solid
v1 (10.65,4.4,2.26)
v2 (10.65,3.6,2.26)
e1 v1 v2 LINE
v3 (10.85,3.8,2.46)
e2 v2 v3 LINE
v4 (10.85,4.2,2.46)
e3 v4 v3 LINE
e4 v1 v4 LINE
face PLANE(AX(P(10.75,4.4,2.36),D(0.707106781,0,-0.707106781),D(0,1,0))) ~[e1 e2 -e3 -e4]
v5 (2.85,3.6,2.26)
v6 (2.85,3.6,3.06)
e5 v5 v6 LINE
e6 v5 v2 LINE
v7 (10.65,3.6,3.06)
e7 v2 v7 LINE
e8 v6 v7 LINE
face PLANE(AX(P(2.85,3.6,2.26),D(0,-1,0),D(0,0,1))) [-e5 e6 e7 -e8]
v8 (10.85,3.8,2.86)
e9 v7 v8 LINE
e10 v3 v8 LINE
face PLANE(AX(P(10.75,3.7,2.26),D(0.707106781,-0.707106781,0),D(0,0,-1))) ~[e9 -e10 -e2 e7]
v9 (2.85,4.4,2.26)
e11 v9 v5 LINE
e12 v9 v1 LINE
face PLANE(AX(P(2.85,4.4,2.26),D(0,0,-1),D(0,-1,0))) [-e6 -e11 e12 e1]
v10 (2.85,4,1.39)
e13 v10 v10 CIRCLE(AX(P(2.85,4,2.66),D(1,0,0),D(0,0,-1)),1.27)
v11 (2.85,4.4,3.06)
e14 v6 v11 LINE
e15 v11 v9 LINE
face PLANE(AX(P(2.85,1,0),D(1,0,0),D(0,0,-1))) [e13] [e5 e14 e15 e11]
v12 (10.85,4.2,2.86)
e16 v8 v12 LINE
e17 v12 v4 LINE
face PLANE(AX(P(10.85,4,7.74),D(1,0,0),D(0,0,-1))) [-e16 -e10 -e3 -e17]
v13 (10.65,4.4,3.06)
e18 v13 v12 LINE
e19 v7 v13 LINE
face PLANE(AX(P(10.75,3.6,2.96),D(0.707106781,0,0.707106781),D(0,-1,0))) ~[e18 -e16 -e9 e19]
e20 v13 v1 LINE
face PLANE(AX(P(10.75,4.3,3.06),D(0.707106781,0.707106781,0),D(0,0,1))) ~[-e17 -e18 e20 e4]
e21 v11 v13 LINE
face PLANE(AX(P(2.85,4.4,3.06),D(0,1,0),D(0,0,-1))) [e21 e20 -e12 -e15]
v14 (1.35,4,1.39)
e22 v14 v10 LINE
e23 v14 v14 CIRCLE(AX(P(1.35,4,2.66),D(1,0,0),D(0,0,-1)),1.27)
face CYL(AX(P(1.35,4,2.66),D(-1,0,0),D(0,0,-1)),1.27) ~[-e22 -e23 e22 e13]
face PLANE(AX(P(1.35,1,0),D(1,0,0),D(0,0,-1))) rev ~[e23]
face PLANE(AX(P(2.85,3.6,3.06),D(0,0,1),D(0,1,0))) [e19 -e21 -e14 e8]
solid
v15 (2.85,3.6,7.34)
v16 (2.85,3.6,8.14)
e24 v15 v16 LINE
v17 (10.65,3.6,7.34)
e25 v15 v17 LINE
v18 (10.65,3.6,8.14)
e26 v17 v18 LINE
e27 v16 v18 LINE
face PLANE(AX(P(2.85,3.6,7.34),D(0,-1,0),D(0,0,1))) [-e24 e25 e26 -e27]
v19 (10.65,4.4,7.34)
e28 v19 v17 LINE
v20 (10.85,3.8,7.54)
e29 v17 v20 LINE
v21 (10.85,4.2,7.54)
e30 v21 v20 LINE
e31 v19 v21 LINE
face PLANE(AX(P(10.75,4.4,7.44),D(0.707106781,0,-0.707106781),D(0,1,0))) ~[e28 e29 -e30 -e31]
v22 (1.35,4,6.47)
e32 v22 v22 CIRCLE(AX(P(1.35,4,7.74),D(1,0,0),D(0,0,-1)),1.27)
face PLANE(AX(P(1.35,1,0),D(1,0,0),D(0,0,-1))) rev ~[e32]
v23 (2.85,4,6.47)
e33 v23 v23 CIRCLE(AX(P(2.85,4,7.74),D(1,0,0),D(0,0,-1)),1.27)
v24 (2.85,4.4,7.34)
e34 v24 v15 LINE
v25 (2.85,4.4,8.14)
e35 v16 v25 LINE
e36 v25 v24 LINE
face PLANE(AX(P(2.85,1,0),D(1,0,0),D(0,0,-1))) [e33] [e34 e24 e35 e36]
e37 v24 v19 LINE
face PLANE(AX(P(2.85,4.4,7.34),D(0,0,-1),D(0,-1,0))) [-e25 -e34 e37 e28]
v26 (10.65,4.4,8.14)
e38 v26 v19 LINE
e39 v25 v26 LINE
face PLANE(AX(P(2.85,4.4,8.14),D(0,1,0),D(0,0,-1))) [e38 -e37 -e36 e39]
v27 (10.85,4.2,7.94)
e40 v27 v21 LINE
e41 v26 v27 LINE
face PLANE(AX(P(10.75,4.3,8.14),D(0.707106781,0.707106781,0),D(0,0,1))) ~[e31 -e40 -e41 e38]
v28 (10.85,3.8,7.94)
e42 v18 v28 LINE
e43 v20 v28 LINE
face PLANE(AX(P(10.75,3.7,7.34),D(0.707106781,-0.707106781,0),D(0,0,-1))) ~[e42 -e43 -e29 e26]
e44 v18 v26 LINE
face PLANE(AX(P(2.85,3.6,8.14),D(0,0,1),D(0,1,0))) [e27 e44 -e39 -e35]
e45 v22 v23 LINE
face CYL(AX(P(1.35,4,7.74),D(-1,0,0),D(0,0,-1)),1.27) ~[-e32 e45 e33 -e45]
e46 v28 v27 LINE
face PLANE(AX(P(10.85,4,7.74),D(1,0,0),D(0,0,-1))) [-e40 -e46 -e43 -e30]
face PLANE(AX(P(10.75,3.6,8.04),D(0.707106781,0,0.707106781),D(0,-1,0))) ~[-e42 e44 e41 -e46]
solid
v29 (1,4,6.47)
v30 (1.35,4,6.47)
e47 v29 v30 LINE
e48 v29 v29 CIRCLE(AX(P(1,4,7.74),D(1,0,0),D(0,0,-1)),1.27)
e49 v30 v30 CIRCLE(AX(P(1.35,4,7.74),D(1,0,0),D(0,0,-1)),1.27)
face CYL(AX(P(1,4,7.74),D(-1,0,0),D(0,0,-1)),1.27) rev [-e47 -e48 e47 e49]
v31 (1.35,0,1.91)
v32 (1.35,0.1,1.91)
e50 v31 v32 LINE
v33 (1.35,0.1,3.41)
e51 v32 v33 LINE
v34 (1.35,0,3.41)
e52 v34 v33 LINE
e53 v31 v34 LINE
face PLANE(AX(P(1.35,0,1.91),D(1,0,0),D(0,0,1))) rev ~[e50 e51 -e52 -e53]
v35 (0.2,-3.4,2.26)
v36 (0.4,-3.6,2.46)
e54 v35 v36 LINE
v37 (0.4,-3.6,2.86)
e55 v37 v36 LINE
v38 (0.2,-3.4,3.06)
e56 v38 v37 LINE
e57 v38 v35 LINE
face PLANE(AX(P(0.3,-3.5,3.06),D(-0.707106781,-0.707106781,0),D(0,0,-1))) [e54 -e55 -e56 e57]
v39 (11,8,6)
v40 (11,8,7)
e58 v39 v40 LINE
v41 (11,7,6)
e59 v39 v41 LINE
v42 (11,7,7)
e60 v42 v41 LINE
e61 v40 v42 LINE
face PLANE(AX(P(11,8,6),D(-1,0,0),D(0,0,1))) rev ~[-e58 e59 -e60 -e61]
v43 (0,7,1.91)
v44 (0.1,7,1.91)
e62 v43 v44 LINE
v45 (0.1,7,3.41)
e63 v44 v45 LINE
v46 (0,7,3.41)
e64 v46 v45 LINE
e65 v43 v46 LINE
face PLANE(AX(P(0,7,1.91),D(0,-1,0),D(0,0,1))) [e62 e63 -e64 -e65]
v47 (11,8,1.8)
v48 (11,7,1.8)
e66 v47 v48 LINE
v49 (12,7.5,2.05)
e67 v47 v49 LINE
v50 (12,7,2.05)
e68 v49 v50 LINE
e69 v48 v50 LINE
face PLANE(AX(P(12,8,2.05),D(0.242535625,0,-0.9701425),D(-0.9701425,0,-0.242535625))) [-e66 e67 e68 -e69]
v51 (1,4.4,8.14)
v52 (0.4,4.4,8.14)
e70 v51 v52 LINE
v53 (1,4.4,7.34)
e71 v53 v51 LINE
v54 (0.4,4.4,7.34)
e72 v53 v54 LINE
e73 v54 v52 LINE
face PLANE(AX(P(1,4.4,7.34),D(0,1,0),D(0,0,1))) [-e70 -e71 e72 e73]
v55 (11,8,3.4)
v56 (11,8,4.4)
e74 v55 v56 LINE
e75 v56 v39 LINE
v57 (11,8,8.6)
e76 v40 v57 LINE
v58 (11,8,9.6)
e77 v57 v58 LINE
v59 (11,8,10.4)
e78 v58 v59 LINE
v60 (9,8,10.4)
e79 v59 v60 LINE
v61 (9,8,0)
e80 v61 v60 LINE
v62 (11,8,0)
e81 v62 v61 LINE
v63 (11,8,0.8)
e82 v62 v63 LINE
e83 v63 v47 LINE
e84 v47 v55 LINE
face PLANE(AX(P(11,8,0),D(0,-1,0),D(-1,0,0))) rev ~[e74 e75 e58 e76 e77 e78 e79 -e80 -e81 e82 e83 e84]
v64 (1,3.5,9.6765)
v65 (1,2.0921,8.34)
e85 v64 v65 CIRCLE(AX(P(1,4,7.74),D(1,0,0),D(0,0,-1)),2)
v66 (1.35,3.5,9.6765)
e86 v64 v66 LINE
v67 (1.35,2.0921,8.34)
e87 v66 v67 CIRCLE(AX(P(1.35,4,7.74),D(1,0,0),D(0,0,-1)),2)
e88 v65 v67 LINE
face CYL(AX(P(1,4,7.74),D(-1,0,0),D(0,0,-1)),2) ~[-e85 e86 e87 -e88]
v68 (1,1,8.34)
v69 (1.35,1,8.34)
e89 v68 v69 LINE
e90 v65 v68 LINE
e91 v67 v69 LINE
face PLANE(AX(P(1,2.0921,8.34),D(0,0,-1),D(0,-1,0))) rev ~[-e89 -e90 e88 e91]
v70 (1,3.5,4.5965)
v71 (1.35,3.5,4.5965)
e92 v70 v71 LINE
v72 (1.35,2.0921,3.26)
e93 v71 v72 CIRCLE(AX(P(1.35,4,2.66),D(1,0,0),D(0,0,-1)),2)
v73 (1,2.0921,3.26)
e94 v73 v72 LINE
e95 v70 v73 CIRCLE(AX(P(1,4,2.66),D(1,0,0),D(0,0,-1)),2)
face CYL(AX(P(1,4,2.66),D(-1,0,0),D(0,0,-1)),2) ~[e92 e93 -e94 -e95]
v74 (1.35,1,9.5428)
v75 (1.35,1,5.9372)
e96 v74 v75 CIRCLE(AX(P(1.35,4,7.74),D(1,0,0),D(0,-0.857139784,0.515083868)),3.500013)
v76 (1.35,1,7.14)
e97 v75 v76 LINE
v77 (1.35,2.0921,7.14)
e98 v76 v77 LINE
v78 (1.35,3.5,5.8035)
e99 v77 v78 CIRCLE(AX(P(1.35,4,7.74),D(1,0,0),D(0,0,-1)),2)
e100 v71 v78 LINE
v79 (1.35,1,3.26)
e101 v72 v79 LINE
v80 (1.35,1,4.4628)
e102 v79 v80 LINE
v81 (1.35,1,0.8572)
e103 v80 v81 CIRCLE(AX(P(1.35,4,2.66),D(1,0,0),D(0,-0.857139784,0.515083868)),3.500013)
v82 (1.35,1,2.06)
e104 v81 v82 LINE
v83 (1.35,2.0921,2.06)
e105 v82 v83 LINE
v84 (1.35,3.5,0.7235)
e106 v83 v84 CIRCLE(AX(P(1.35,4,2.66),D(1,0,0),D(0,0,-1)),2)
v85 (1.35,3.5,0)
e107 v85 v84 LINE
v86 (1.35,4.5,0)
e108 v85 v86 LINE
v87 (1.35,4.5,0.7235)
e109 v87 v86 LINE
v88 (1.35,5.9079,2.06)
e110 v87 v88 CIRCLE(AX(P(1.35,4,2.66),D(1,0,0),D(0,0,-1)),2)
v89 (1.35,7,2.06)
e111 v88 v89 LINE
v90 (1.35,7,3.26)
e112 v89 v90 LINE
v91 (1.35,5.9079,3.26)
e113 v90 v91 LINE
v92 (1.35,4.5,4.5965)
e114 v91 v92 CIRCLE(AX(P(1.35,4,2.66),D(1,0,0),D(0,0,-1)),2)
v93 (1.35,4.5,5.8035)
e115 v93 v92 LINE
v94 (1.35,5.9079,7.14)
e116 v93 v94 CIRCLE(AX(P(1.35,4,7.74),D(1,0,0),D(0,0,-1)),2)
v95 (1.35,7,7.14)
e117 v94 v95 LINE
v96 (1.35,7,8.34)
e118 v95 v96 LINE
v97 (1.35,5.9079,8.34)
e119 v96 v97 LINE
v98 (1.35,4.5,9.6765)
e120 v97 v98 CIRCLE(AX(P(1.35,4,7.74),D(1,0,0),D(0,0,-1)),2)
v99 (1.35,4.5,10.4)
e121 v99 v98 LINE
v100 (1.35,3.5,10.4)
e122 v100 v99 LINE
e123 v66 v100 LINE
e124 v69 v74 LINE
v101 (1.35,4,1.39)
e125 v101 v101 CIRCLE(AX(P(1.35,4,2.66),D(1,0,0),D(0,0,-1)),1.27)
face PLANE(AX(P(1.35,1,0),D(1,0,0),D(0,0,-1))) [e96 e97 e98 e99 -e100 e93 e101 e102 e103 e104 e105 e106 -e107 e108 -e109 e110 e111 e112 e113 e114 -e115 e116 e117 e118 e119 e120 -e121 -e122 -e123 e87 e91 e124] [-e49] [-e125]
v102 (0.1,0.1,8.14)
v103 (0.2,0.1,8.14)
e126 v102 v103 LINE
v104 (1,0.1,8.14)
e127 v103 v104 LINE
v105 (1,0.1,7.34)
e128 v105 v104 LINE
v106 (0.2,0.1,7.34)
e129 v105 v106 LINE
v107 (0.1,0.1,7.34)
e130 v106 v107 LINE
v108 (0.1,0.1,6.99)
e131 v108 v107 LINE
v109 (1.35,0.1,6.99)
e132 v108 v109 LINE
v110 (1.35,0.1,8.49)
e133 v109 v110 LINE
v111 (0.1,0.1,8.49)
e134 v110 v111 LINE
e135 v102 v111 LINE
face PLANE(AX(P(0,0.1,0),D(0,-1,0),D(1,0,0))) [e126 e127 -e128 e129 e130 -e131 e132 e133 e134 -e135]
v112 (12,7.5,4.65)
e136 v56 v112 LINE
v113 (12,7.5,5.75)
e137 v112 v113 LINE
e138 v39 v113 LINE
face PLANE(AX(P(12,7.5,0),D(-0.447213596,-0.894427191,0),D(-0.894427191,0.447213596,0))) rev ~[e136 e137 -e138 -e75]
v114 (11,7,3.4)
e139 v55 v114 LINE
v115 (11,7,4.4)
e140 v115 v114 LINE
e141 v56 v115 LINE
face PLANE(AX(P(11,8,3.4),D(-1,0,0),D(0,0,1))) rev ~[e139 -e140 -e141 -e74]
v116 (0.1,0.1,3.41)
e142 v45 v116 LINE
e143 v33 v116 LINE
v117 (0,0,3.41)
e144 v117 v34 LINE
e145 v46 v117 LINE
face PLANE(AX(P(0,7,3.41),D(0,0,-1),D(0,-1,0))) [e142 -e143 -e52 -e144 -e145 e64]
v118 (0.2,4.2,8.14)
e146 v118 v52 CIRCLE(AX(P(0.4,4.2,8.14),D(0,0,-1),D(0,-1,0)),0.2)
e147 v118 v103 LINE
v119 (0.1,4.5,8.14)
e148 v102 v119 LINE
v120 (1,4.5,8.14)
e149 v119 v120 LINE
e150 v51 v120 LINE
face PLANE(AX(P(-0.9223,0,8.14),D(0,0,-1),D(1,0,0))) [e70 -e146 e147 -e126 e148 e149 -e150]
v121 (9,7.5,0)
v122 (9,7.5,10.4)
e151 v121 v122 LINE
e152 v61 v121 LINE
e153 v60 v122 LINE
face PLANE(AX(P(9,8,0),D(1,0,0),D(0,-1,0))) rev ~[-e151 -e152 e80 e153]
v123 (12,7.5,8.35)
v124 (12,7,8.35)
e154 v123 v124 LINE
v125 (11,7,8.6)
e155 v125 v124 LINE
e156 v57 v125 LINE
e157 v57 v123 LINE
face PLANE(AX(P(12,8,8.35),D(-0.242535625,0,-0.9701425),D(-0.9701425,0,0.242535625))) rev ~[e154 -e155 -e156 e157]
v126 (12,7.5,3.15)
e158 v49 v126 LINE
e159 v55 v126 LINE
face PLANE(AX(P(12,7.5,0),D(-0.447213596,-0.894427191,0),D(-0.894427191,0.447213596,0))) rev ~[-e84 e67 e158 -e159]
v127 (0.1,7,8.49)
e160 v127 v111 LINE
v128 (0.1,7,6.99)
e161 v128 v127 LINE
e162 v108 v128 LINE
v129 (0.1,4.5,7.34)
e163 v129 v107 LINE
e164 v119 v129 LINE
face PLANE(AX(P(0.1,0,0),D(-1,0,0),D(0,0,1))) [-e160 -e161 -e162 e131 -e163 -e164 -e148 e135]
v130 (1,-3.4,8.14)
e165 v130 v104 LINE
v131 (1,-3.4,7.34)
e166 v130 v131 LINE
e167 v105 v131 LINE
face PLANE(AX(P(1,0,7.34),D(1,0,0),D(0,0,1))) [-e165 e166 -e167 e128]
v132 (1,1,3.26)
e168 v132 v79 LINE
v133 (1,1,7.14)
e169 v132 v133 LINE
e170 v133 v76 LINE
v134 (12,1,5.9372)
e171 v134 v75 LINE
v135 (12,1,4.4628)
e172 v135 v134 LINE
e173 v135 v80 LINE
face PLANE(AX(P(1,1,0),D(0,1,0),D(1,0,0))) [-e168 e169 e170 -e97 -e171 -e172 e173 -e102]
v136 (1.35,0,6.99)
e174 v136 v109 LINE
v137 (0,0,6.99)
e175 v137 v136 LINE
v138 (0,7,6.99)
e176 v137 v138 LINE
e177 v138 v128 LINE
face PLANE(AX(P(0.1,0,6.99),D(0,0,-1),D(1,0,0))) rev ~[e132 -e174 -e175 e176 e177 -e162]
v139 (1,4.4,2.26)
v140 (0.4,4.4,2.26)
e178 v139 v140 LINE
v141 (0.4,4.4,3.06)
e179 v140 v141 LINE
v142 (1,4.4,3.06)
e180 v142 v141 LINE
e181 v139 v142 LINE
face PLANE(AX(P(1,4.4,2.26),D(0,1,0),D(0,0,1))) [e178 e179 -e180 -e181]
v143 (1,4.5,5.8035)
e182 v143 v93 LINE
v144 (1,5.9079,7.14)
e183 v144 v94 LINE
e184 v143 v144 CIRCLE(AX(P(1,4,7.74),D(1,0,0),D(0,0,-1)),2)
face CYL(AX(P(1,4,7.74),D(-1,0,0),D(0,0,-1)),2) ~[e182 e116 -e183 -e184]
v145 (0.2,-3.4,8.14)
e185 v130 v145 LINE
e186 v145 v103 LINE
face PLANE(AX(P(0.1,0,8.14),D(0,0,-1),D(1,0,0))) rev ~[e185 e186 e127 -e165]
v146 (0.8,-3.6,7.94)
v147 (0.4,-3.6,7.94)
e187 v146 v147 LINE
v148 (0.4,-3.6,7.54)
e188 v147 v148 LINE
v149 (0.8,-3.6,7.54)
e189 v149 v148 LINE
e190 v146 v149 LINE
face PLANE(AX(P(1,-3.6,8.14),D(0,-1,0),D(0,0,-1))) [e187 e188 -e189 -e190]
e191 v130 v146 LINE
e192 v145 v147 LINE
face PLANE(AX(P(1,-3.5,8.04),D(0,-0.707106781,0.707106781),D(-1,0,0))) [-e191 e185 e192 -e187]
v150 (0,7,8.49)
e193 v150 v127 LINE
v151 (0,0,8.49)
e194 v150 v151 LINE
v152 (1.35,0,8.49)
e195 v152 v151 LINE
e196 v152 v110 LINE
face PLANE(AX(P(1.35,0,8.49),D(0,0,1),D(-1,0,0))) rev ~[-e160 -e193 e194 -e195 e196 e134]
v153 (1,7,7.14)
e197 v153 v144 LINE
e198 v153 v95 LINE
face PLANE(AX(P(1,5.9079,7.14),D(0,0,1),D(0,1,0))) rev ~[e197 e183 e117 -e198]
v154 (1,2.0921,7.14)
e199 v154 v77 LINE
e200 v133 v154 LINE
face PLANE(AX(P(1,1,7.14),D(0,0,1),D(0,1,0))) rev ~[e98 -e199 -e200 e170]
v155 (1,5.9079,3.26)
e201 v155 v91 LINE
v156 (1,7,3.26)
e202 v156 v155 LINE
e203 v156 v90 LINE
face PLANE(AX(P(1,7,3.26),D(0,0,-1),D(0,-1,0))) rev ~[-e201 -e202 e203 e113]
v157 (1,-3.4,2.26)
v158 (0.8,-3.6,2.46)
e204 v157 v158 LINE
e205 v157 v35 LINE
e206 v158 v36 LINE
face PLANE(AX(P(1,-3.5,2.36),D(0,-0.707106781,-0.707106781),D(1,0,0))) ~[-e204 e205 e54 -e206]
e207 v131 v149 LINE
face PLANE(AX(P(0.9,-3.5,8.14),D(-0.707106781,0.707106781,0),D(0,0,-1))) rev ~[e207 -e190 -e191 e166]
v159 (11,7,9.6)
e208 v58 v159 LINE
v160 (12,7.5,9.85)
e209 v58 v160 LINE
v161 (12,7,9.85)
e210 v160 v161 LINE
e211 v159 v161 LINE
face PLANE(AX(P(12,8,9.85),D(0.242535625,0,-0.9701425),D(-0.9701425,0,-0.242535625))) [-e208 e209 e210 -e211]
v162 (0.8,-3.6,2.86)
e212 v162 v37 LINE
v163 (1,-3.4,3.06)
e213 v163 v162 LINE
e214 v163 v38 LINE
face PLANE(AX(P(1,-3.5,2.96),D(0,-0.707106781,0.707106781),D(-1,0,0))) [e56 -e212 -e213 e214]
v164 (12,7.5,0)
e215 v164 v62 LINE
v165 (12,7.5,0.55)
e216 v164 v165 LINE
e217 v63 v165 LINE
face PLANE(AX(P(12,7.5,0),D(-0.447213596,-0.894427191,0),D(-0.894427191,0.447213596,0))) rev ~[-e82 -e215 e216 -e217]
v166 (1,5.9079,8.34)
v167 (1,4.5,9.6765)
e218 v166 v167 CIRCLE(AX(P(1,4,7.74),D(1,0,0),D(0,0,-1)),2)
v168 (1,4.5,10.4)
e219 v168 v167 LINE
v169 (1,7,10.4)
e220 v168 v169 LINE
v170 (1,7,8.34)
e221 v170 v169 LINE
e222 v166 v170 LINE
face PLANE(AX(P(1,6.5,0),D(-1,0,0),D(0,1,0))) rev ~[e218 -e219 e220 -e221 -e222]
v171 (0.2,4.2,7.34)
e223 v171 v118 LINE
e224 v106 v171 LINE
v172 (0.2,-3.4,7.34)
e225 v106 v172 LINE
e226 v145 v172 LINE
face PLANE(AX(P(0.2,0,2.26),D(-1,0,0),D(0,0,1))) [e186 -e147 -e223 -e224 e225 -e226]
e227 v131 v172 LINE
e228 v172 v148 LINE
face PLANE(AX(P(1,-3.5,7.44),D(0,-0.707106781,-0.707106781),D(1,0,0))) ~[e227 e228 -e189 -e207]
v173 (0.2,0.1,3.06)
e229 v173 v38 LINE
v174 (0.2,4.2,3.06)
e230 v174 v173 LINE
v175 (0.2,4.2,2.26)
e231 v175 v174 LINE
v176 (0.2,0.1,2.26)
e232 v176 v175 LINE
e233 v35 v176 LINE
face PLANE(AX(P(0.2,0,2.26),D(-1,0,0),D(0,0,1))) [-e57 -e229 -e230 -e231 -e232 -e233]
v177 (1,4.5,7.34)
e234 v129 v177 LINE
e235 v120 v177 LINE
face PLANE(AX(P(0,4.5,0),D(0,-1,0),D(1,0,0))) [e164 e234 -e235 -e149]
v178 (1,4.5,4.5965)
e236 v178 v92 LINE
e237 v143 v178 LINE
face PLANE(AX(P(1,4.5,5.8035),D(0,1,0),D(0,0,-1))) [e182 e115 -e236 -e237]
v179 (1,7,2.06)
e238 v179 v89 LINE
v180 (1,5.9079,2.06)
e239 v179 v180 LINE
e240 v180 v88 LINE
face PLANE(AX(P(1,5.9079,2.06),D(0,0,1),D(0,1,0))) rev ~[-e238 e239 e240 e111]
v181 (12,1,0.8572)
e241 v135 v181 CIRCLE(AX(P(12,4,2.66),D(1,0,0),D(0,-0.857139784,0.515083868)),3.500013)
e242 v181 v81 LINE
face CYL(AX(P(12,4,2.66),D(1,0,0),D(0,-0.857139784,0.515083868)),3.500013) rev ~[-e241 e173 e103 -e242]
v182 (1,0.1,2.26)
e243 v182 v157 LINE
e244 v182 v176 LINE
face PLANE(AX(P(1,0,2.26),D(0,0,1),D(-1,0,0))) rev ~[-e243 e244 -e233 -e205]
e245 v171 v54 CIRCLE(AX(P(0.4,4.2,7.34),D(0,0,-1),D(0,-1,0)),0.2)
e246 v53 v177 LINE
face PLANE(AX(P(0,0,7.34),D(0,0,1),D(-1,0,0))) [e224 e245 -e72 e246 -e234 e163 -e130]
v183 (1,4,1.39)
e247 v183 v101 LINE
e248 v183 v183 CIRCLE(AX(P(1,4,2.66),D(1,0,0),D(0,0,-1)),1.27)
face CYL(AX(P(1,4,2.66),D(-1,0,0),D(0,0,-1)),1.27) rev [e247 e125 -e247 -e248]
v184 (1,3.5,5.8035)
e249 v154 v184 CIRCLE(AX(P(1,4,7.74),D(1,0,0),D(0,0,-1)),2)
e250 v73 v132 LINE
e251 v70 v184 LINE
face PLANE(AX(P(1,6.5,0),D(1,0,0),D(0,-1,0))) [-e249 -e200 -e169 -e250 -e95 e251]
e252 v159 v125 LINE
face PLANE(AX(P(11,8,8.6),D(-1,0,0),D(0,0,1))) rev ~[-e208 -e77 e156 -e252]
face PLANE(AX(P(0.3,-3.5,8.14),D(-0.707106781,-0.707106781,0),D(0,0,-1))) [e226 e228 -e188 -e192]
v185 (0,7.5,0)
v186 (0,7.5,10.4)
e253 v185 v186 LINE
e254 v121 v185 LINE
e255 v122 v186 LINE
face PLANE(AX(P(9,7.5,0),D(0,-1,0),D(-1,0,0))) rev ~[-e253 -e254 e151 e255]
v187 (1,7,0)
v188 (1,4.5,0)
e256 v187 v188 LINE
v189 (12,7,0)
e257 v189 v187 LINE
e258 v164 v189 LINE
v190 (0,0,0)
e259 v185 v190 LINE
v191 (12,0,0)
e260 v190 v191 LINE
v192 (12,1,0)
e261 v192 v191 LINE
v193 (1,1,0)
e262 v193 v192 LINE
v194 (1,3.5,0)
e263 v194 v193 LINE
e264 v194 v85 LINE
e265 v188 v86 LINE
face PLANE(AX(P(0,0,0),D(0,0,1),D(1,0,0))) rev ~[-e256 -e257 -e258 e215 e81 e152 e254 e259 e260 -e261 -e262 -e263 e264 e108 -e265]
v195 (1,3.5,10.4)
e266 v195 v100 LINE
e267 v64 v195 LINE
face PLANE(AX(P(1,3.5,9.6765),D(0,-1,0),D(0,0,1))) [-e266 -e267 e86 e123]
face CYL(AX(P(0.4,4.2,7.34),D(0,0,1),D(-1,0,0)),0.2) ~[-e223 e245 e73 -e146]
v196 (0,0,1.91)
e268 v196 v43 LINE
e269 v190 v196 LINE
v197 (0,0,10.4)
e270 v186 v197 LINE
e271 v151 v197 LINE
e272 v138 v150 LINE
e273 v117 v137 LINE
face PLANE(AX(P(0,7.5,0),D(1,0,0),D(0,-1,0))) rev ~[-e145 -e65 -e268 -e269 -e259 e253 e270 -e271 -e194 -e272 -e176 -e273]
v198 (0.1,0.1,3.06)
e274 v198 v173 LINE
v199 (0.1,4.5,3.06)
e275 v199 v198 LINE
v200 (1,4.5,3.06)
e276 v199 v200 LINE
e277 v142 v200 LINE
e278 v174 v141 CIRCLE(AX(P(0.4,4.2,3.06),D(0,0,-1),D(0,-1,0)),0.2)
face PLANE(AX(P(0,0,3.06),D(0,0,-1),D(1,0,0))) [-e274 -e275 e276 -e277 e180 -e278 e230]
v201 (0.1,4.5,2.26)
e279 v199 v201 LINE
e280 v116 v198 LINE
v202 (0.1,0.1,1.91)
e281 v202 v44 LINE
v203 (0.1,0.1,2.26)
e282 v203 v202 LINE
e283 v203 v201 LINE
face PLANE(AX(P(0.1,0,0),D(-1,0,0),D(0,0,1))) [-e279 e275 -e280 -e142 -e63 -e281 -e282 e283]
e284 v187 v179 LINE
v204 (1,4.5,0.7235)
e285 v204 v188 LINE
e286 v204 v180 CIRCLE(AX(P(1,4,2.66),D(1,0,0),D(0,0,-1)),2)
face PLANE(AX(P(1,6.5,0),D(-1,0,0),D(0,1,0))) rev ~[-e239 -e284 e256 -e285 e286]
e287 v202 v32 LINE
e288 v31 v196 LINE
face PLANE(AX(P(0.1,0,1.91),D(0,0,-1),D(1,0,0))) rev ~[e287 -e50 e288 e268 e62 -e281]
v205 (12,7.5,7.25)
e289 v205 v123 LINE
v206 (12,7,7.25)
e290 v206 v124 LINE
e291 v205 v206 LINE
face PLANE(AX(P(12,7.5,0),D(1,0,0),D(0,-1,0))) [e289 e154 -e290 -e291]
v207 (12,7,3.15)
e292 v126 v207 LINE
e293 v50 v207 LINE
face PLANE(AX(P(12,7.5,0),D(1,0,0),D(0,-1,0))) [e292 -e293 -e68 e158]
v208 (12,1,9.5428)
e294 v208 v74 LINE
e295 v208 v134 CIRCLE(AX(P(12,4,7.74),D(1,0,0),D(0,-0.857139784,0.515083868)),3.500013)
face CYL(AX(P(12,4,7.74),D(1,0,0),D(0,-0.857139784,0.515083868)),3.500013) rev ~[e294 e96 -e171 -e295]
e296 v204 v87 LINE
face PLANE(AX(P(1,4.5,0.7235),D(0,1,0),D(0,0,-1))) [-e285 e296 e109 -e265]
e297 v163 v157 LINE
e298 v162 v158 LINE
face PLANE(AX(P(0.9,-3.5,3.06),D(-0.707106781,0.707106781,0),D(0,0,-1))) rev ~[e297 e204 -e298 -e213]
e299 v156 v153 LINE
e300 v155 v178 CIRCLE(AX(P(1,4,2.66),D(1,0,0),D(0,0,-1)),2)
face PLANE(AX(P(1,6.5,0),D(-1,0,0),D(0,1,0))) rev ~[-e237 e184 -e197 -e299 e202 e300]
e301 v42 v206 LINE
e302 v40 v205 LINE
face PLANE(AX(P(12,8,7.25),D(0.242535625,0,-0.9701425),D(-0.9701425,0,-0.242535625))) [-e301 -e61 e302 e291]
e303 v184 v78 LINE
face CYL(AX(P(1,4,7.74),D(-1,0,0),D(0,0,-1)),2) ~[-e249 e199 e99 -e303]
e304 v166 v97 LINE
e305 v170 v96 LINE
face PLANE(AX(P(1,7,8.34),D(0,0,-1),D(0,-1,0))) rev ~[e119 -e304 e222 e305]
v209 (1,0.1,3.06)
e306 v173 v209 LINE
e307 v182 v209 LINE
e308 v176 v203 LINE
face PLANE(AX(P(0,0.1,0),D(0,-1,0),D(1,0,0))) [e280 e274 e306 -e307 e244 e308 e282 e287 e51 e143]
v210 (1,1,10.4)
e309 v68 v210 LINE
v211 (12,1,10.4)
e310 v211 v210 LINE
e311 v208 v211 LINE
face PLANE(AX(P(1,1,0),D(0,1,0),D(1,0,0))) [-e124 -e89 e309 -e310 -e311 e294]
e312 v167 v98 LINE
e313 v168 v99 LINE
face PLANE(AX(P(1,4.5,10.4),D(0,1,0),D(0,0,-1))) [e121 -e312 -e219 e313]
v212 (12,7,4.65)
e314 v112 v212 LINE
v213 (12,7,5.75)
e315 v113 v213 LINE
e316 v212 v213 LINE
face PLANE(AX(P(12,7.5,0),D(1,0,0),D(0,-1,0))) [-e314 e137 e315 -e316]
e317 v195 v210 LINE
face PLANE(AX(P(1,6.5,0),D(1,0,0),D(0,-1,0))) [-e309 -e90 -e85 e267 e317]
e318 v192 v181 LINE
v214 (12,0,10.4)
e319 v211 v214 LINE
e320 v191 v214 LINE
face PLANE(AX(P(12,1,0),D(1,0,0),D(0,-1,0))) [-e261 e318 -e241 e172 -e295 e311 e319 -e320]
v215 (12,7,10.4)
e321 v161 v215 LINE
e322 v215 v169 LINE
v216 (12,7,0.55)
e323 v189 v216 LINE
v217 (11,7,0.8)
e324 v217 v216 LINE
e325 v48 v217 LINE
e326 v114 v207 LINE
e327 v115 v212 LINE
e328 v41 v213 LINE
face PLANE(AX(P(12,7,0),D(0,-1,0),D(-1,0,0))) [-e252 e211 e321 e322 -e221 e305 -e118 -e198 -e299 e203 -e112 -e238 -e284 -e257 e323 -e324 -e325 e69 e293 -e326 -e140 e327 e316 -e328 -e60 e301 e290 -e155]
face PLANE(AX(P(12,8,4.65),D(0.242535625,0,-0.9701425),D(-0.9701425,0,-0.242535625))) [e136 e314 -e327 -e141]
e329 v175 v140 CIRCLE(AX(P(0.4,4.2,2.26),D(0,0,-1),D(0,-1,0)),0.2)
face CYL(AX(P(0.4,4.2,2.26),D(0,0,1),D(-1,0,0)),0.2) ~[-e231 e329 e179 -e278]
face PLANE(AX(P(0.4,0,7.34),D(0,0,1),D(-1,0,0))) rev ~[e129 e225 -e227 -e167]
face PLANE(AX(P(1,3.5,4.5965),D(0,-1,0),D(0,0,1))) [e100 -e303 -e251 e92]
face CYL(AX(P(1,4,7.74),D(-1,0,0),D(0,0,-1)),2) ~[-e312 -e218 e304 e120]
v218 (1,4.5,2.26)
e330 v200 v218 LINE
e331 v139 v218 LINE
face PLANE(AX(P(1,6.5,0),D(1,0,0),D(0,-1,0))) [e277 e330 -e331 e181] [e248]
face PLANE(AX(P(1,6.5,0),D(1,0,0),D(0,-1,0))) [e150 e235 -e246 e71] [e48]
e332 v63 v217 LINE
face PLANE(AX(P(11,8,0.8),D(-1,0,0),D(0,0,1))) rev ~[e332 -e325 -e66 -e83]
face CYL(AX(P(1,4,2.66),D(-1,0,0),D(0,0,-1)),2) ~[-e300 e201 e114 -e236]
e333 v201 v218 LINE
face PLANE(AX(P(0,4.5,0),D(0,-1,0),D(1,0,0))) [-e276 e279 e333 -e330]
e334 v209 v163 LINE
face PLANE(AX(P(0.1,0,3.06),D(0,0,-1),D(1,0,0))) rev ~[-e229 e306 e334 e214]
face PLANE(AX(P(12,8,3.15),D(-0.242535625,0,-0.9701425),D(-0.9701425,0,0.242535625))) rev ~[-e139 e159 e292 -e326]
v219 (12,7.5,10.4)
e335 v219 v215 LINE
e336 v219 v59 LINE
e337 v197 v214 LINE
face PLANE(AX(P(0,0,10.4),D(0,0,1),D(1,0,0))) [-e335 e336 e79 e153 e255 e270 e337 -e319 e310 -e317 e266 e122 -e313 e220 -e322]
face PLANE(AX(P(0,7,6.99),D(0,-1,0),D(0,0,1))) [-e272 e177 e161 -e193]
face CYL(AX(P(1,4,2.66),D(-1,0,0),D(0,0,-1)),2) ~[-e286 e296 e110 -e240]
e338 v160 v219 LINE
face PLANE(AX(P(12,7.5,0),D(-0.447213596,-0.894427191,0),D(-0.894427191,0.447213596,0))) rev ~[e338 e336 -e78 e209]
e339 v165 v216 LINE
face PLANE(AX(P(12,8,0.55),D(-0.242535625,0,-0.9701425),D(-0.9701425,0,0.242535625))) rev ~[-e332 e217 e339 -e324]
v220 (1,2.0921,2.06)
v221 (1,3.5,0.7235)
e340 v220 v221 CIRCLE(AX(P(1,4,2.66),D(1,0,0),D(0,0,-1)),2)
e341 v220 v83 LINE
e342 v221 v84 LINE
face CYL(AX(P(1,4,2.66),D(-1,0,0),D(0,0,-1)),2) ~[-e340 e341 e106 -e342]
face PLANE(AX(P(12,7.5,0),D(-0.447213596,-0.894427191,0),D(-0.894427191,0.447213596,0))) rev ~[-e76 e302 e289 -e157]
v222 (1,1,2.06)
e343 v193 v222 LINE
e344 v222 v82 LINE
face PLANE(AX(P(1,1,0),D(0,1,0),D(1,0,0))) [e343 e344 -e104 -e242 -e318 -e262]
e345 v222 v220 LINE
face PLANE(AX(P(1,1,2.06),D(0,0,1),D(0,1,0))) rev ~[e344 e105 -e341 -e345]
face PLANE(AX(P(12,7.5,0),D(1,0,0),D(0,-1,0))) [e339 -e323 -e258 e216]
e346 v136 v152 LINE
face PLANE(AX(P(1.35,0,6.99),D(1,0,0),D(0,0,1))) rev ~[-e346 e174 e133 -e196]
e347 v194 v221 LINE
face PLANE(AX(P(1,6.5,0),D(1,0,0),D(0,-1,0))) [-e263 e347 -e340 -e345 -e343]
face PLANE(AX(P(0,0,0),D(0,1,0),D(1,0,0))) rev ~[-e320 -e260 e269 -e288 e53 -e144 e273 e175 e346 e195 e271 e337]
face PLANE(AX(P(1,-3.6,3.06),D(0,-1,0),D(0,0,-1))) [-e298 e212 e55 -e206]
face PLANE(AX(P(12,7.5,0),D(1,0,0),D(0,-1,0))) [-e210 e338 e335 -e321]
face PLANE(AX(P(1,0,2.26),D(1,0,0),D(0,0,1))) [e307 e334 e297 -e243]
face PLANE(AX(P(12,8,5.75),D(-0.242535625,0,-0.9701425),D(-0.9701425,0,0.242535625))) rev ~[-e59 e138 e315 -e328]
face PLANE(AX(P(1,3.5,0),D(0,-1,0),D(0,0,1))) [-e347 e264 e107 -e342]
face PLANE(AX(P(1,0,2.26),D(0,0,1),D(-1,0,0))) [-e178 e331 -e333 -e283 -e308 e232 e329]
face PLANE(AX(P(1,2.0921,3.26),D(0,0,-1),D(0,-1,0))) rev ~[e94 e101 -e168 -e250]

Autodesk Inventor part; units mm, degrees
ref_plane "YZ Plane" through (0, 0, 0) normal (1, 0, 0) x (0, 1, 0)
ref_plane "XZ Plane" through (0, 0, 0) normal (0, 1, 0) x (-1, 0, 0)
ref_plane "XY Plane" through (0, 0, 0) normal (0, 0, 1) x (1, 0, 0)
sketch "Sketch1" plane through (0, 0, 0) normal (0, 0, 1) x (1, 0, 0)
  line L0 (0, 0) -> (12, 0)
  line L1 (9, 7.5) -> (0, 7.5)
  line L2 (0, 7.5) -> (0, 0)
  line L3 (1, 1) -> (11, 1)
  line L4 (1, 6.5) -> (1, 1)
  line L5 (11, 1) -> (12, 1)
  line L6 (12, 1) -> (12, 0)
  line L7 (12, 7.5) -> (12, 7)
  line L8 (12, 7) -> (1, 7)
  line L9 (1, 6.5) -> (1, 7)
  line L10 (11, 8) -> (9, 8)
  line L11 (9, 8) -> (9, 7.5)
  line L12 (12, 7.5) -> (11, 8)
  dimension "d0" = 7.5
  dimension "d1" = 1
  dimension "d3" = 10
  dimension "d4" = 1
  dimension "d5" = 1
  dimension "d6" = 0.5
  dimension "d7" = 11
  dimension "d10" = 0.5
  dimension "d11" = 11
  dimension "d12" = 0.5
  dimension "d14" = 1
  dimension "d15" = 3
  dimension "d16" = 1
extrude "Extrusion1" add sketch "Sketch1" along normal blind 10.4
sketch "Sketch2" plane through (1, 1, 0) normal (1, 0, 0) x (0, 0, -1)
  circle A0 centre (-7.74, 3) radius 1.27
  circle A1 centre (-2.66, 3) radius 1.27
  line L0 (0, 0) -> (0, 6) projected
  line L1 (0, 0) -> (-10.4, 0) projected
  circle A2 centre (-7.74, 3) radius 2
  circle A3 centre (-2.66, 3) radius 2
  line L2 (-10.4, 0) -> (-10.4, 6) projected
  line L3 (0, 6) -> (-10.4, 6) projected
  line L4 (-7.14, 0) -> (-7.14, 1.0921)
  line L5 (-7.14, 4.9079) -> (-7.14, 6)
  line L6 (-8.34, 6) -> (-8.34, 4.9079)
  line L7 (-8.34, 1.0921) -> (-8.34, 0)
  line L8 (-2.06, 0) -> (-2.06, 1.0921)
  line L9 (-2.06, 4.9079) -> (-2.06, 6)
  line L10 (-3.26, 6) -> (-3.26, 4.9079)
  line L11 (-3.26, 1.0921) -> (-3.26, 0)
  line L12 (-0.7235, 3.5) -> (0, 3.5)
  line L13 (0, 2.5) -> (-0.7235, 2.5)
  line L14 (-5.8035, 3.5) -> (-4.5965, 3.5)
  line L15 (-4.5965, 2.5) -> (-5.8035, 2.5)
  line L16 (-9.6765, 2.5) -> (-10.4, 2.5)
  line L17 (-10.4, 3.5) -> (-9.6765, 3.5)
  point P0 (0, -1)
  dimension "d25" = 4
  dimension "d26" = 4
  dimension "d19" = 5.08
  dimension "d20" = 2.66
  dimension "d21" = 0
  dimension "d22" = 3
  dimension "d23" = 2.54
  dimension "d24" = 2.54
extrude "Extrusion2" add sketch "Sketch2" along normal blind 0.35 contours L13 A3 L12 L0 | L1 L11 A3 L8 | A3 | L1 L7 A2 L4 | L9 A3 L10 L3 | A2 | L15 A2 L14 A3 | L5 A2 L6 L3 | L2 L17 A2 L16
sketch "Sketch3" plane through (1.35, 1, 0) normal (1, 0, 0) x (0, 0, -1)
  circle A0 centre (-7.74, 3) radius 1.27 projected
  circle A1 centre (-7.74, 3) radius 1.27
  circle A2 centre (-7.74, 3) radius 2
  circle A3 centre (-2.66, 3) radius 1.27 projected
  circle A4 centre (-2.66, 3) radius 1.27
  circle A5 centre (-2.66, 3) radius 2
  circle A6 centre (-7.74, 3) radius 1.27
  circle A7 centre (-7.74, 3) radius 0.75
  circle A8 centre (-2.66, 3) radius 1.27
  circle A9 centre (-2.66, 3) radius 0.75
  point P0 (0, -1)
  dimension "d49" = 1.5
  dimension "d50" = 1.5
extrude "Extrusion3" add sketch "Sketch3" along normal blind 1.5 contours A0 | A3 | A7 | A9
sketch "Sketch5" plane through (2.85, 4, 7.74) normal (1, 0, 0) x (0, 0, -1)
  line L0 (4.68, 0.4) -> (5.48, 0.4)
  line L1 (5.48, 0.4) -> (5.48, -0.4)
  line L2 (5.48, -0.4) -> (4.68, -0.4)
  line L3 (4.68, -0.4) -> (4.68, 0.4)
  line L4 (-0.4, 0.4) -> (0.4, 0.4)
  line L5 (0.4, 0.4) -> (0.4, -0.4)
  line L6 (0.4, -0.4) -> (-0.4, -0.4)
  line L7 (-0.4, -0.4) -> (-0.4, 0.4)
  circle A0 centre (5.08, 0) radius 1.27 projected
  circle A1 centre (0, 0) radius 1.27 projected
  point P0 (7.74, -4)
  dimension "d51" = 0.4
  dimension "d52" = 0.8
  dimension "d53" = 0.8
  dimension "d54" = 0.4
  dimension "d55" = 0.8
  dimension "d56" = 0.8
  dimension "d57" = 0.4
extrude "Extrusion5" add sketch "Sketch5" along normal blind 8 contours L0 L1 L2 L3 | L4 L5 L6 L7
chamfer "Chamfer2" distance 0.2 angle 45 8 edges at (10.85, 4.4, 7.74) (10.85, 4.4, 2.66) (10.85, 4, 2.26) (10.85, 4, 3.06) (10.85, 3.6, 2.66) (10.85, 4, 8.14) (10.85, 4, 7.34) (10.85, 3.6, 7.74)
sketch "Sketch6" plane through (9, 8, 0) normal (0, 1, 0) x (1, 0, 0)
  line L0 (3, 0) -> (3, -10.4) projected
  line L1 (2, 0) -> (2, -10.4) projected
  line L2 (3, -0.55) -> (2, -0.55)
  line L3 (2, -0.55) -> (2, -2.05)
  line L4 (2, -2.05) -> (3, -2.05)
  line L5 (3, -2.05) -> (3, -0.55)
  line L6 (3, -0.55) -> (2, -0.8)
  line L7 (3, -2.05) -> (2, -1.8)
  line L8 (3, 0) -> (2, 0) projected
  point P0 (-9, 0)
  point P1 (2, -1.8)
  point P2 (3, -2.05)
  dimension "d69" = 1.5
  dimension "d70" = 1
  dimension "d71" = 0.25
  dimension "d72" = 0.55
extrude "Extrusion6" cut sketch "Sketch6" against normal blind 5 contours L0 L7 L1 L6
pattern_linear "Rectangular Pattern1" count 4 spacing 2.6 along (0, 0, 1) of "Extrusion6"
sketch "Sketch7" plane through (12, 0, 0) normal (1, 0, 0) x (0, 0, -1)
  circle A0 centre (-7.74, 4) radius 1.27 projected
  arc A1 (-9.5428, 1) -> (-5.9372, 1) centre (-7.74, 4) ccw
  arc A2 (-4.4628, 1) -> (-0.8572, 1) centre (-2.66, 4) ccw
  circle A3 centre (-2.66, 4) radius 1.27 projected
  line L0 (0, 1) -> (-10.4, 1) projected
  line L1 (-5.9372, 1) -> (-4.4628, 1)
  line L2 (-8.34, 1) -> (-10.4, 1) projected
  line L3 (-9.5428, 1) -> (-10.4, 1)
  line L4 (-10.4, 1) -> (0, 1)
  point P0 (0, 0)
  dimension "d78" = 7
  dimension "d79" = 7
extrude "Extrusion7" cut sketch "Sketch7" against normal blind 10.65 contours L0 A1 | L0 A2
sketch "Sketch8" plane through (0, 0, 0) normal (0, -1, 0) x (1, 0, 0)
  line L0 (1, 2.26) -> (-0.413, 2.26)
  line L1 (-0.413, 2.26) -> (-0.413, 3.06)
  line L2 (-0.413, 3.06) -> (1, 3.06)
  line L3 (1, 3.06) -> (1, 2.26)
  line L4 (1, 7.34) -> (-0.9223, 7.34)
  line L5 (-0.9223, 7.34) -> (-0.9223, 8.14)
  line L6 (-0.9223, 8.14) -> (1, 8.14)
  line L7 (1, 8.14) -> (1, 7.34)
  line L8 (0, 0) -> (0, 10.4) projected
  line L9 (0, 0) -> (12, 0) projected
  line L10 (0, 10.4) -> (12, 10.4) projected
  line L11 (2.85, 8.14) -> (10.65, 8.14) projected
  line L12 (2.85, 2.26) -> (10.65, 2.26) projected
  point P0 (1, 10.4)
  dimension "d83" = 1
  dimension "d84" = 0.8
  dimension "d85" = 0.8
  dimension "d86" = 2.26
  dimension "d87" = 2.26
  dimension "d88" = 2.26
  dimension "d89" = 2.26
extrude "Extrusion8" cut sketch "Sketch8" against normal blind 4.5
sketch "Sketch10" plane through (1, 0, 2.26) normal (-1, 0, 0) x (0, 0, 1)
  line L0 (0, 4.4) -> (0.8, 4.4)
  line L1 (0.8, 4.4) -> (0.8, -3.6)
  line L2 (0.8, -3.6) -> (0, -3.6)
  line L3 (0, -3.6) -> (0, 4.4)
  line L4 (5.08, 4.4) -> (5.88, 4.4)
  line L5 (5.88, 4.4) -> (5.88, -3.6)
  line L6 (5.88, -3.6) -> (5.08, -3.6)
  line L7 (5.08, -3.6) -> (5.08, 4.4)
  line L8 (0.8, 4.5) -> (0.8, 0) projected
  line L9 (5.08, 0) -> (5.08, 4.5) projected
  line L10 (0, 4.5) -> (0.8, 4.5) projected
  arc A0 (0.8, 2.7946) -> (0, 2.7946) centre (0.4, 4) ccw projected
  arc A1 (5.88, 2.7946) -> (5.08, 2.7946) centre (5.48, 4) ccw projected
  point P0 (-2.26, 0)
  dimension "d92" = 0.8
  dimension "d93" = 0.8
  dimension "d96" = 8
  dimension "d101" = 0.4
  dimension "d102" = 0.4
  dimension "d103" = 0.4
  dimension "d106" = 8
extrude "Extrusion9" add sketch "Sketch10" along normal blind 0.8 contours L0 L1 L2 L3 | L4 L5 L6 L7
sketch "Sketch11" plane through (1, 1, 10.4) normal (1, 0, 0) x (0, 0, -1)
  point P0 (10.4, -1)
chamfer "Chamfer3" distance 0.2 angle 45 8 edges at (0.6, -3.6, 8.14) (0.2, -3.6, 7.74) (0.6, -3.6, 7.34) (1, -3.6, 7.74) (0.2, -3.6, 2.66) (0.6, -3.6, 2.26) (0.6, -3.6, 3.06) (1, -3.6, 2.66)
fillet "Fillet1" radius 0.2 2 edges at (0.2, 4.4, 2.66) (0.2, 4.4, 7.74)
sketch "Sketch12" plane through (0, 0, 0) normal (-1, 0, 0) x (0, 0, 1)
  line L0 (1.91, 7) -> (3.41, 7)
  line L1 (3.41, 7) -> (3.41, 0)
  line L2 (1.91, 0) -> (1.91, 7)
  line L3 (6.99, 7) -> (8.49, 7)
  line L4 (8.49, 7) -> (8.49, 0)
  line L5 (6.99, 0) -> (6.99, 7)
  line L6 (8.14, 0) -> (10.4, 0) projected
  line L7 (3.06, 0) -> (7.34, 0) projected
  line L8 (0, 7.5) -> (10.4, 7.5) projected
  line L9 (3.06, -3.4) -> (3.06, 0) projected
  line L10 (8.14, 4.5) -> (8.14, 0) projected
  line L11 (2.26, 0) -> (2.26, 4.5) projected
  line L12 (0, 0) -> (2.26, 0) projected
  line L13 (2.26, 0) -> (2.26, -3.4) projected
  line L14 (2.26, 4.4) -> (3.06, 4.4) projected
  line L15 (2.26, 0) -> (3.06, 0)
  line L16 (3.06, 0) -> (3.06, 4.4)
  line L17 (3.06, 4.4) -> (2.26, 4.4)
  line L18 (2.26, 4.4) -> (2.26, 0)
  line L19 (7.34, 4.4) -> (8.14, 4.4) projected
  line L20 (8.14, 0) -> (8.14, 4.4)
  line L21 (8.14, 4.4) -> (7.34, 4.4)
  line L22 (7.34, 4.4) -> (7.34, 0)
  line L23 (3.41, 0) -> (3.06, 0)
  line L24 (2.26, 0) -> (1.91, 0)
  line L25 (8.49, 0) -> (8.14, 0)
  line L26 (7.34, 0) -> (6.99, 0)
  point P0 (3.41, 0)
  dimension "d111" = 1.5
  dimension "d112" = 1.5
  dimension "d115" = 0.5
  dimension "d116" = 0.5
  dimension "d117" = 0.35
  dimension "d118" = 0.35
extrude "Extrusion10" cut sketch "Sketch12" against normal blind 0.1 contours L5 L3 L4 L6 L10 L19 L22 L7 | L0 L1 L7 L16 L14 L11 L12 L2
sketch "Sketch13" plane through (0, 0, 0) normal (0, -1, 0) x (1, 0, 0)
  line L0 (0.1, 1.91) -> (0, 1.91) projected
  line L1 (0.1, 1.91) -> (1.35, 1.91)
  line L2 (1.35, 1.91) -> (1.35, 3.41)
  line L3 (1.35, 3.41) -> (0.1, 3.41)
  line L4 (0.1, 3.41) -> (0.1, 1.91)
  line L5 (0.1, 6.99) -> (0.1, 8.49) projected
  line L6 (0.1, 6.99) -> (1.35, 6.99)
  line L7 (1.35, 6.99) -> (1.35, 8.49)
  line L8 (1.35, 8.49) -> (0.1, 8.49)
  line L9 (0.1, 8.49) -> (0.1, 6.99)
  line L10 (1, 7.34) -> (1, 8.14) projected
  line L11 (0, 3.41) -> (0.1, 3.41) projected
  line L12 (1, 2.26) -> (1, 3.06) projected
  line L13 (0.1, 8.14) -> (1, 8.14) projected
  line L14 (0.4, 7.34) -> (1, 7.34) projected
  line L15 (0.1, 8.14) -> (1, 8.14)
  line L16 (1, 8.14) -> (1, 7.34)
  line L17 (1, 7.34) -> (0.1, 7.34)
  line L18 (0.1, 7.34) -> (0.1, 8.14)
  line L19 (0.1, 3.06) -> (0.1, 2.26) projected
  line L20 (0.1, 3.06) -> (1, 3.06)
  line L21 (1, 3.06) -> (1, 2.26)
  line L22 (1, 2.26) -> (0.1, 2.26)
  line L23 (0.1, 2.26) -> (0.1, 3.06)
  point P0 (0, 0)
  dimension "d130" = 0.35
  dimension "d131" = 0
  dimension "d132" = 0.35
extrude "Extrusion11" cut sketch "Sketch13" against normal blind 0.1 contours L4 L22 L12 L20 L3 L2 L1 | L5 L17 L14 L10 L13 L8 L7 L6
properties part number "plugin_maleblock"
